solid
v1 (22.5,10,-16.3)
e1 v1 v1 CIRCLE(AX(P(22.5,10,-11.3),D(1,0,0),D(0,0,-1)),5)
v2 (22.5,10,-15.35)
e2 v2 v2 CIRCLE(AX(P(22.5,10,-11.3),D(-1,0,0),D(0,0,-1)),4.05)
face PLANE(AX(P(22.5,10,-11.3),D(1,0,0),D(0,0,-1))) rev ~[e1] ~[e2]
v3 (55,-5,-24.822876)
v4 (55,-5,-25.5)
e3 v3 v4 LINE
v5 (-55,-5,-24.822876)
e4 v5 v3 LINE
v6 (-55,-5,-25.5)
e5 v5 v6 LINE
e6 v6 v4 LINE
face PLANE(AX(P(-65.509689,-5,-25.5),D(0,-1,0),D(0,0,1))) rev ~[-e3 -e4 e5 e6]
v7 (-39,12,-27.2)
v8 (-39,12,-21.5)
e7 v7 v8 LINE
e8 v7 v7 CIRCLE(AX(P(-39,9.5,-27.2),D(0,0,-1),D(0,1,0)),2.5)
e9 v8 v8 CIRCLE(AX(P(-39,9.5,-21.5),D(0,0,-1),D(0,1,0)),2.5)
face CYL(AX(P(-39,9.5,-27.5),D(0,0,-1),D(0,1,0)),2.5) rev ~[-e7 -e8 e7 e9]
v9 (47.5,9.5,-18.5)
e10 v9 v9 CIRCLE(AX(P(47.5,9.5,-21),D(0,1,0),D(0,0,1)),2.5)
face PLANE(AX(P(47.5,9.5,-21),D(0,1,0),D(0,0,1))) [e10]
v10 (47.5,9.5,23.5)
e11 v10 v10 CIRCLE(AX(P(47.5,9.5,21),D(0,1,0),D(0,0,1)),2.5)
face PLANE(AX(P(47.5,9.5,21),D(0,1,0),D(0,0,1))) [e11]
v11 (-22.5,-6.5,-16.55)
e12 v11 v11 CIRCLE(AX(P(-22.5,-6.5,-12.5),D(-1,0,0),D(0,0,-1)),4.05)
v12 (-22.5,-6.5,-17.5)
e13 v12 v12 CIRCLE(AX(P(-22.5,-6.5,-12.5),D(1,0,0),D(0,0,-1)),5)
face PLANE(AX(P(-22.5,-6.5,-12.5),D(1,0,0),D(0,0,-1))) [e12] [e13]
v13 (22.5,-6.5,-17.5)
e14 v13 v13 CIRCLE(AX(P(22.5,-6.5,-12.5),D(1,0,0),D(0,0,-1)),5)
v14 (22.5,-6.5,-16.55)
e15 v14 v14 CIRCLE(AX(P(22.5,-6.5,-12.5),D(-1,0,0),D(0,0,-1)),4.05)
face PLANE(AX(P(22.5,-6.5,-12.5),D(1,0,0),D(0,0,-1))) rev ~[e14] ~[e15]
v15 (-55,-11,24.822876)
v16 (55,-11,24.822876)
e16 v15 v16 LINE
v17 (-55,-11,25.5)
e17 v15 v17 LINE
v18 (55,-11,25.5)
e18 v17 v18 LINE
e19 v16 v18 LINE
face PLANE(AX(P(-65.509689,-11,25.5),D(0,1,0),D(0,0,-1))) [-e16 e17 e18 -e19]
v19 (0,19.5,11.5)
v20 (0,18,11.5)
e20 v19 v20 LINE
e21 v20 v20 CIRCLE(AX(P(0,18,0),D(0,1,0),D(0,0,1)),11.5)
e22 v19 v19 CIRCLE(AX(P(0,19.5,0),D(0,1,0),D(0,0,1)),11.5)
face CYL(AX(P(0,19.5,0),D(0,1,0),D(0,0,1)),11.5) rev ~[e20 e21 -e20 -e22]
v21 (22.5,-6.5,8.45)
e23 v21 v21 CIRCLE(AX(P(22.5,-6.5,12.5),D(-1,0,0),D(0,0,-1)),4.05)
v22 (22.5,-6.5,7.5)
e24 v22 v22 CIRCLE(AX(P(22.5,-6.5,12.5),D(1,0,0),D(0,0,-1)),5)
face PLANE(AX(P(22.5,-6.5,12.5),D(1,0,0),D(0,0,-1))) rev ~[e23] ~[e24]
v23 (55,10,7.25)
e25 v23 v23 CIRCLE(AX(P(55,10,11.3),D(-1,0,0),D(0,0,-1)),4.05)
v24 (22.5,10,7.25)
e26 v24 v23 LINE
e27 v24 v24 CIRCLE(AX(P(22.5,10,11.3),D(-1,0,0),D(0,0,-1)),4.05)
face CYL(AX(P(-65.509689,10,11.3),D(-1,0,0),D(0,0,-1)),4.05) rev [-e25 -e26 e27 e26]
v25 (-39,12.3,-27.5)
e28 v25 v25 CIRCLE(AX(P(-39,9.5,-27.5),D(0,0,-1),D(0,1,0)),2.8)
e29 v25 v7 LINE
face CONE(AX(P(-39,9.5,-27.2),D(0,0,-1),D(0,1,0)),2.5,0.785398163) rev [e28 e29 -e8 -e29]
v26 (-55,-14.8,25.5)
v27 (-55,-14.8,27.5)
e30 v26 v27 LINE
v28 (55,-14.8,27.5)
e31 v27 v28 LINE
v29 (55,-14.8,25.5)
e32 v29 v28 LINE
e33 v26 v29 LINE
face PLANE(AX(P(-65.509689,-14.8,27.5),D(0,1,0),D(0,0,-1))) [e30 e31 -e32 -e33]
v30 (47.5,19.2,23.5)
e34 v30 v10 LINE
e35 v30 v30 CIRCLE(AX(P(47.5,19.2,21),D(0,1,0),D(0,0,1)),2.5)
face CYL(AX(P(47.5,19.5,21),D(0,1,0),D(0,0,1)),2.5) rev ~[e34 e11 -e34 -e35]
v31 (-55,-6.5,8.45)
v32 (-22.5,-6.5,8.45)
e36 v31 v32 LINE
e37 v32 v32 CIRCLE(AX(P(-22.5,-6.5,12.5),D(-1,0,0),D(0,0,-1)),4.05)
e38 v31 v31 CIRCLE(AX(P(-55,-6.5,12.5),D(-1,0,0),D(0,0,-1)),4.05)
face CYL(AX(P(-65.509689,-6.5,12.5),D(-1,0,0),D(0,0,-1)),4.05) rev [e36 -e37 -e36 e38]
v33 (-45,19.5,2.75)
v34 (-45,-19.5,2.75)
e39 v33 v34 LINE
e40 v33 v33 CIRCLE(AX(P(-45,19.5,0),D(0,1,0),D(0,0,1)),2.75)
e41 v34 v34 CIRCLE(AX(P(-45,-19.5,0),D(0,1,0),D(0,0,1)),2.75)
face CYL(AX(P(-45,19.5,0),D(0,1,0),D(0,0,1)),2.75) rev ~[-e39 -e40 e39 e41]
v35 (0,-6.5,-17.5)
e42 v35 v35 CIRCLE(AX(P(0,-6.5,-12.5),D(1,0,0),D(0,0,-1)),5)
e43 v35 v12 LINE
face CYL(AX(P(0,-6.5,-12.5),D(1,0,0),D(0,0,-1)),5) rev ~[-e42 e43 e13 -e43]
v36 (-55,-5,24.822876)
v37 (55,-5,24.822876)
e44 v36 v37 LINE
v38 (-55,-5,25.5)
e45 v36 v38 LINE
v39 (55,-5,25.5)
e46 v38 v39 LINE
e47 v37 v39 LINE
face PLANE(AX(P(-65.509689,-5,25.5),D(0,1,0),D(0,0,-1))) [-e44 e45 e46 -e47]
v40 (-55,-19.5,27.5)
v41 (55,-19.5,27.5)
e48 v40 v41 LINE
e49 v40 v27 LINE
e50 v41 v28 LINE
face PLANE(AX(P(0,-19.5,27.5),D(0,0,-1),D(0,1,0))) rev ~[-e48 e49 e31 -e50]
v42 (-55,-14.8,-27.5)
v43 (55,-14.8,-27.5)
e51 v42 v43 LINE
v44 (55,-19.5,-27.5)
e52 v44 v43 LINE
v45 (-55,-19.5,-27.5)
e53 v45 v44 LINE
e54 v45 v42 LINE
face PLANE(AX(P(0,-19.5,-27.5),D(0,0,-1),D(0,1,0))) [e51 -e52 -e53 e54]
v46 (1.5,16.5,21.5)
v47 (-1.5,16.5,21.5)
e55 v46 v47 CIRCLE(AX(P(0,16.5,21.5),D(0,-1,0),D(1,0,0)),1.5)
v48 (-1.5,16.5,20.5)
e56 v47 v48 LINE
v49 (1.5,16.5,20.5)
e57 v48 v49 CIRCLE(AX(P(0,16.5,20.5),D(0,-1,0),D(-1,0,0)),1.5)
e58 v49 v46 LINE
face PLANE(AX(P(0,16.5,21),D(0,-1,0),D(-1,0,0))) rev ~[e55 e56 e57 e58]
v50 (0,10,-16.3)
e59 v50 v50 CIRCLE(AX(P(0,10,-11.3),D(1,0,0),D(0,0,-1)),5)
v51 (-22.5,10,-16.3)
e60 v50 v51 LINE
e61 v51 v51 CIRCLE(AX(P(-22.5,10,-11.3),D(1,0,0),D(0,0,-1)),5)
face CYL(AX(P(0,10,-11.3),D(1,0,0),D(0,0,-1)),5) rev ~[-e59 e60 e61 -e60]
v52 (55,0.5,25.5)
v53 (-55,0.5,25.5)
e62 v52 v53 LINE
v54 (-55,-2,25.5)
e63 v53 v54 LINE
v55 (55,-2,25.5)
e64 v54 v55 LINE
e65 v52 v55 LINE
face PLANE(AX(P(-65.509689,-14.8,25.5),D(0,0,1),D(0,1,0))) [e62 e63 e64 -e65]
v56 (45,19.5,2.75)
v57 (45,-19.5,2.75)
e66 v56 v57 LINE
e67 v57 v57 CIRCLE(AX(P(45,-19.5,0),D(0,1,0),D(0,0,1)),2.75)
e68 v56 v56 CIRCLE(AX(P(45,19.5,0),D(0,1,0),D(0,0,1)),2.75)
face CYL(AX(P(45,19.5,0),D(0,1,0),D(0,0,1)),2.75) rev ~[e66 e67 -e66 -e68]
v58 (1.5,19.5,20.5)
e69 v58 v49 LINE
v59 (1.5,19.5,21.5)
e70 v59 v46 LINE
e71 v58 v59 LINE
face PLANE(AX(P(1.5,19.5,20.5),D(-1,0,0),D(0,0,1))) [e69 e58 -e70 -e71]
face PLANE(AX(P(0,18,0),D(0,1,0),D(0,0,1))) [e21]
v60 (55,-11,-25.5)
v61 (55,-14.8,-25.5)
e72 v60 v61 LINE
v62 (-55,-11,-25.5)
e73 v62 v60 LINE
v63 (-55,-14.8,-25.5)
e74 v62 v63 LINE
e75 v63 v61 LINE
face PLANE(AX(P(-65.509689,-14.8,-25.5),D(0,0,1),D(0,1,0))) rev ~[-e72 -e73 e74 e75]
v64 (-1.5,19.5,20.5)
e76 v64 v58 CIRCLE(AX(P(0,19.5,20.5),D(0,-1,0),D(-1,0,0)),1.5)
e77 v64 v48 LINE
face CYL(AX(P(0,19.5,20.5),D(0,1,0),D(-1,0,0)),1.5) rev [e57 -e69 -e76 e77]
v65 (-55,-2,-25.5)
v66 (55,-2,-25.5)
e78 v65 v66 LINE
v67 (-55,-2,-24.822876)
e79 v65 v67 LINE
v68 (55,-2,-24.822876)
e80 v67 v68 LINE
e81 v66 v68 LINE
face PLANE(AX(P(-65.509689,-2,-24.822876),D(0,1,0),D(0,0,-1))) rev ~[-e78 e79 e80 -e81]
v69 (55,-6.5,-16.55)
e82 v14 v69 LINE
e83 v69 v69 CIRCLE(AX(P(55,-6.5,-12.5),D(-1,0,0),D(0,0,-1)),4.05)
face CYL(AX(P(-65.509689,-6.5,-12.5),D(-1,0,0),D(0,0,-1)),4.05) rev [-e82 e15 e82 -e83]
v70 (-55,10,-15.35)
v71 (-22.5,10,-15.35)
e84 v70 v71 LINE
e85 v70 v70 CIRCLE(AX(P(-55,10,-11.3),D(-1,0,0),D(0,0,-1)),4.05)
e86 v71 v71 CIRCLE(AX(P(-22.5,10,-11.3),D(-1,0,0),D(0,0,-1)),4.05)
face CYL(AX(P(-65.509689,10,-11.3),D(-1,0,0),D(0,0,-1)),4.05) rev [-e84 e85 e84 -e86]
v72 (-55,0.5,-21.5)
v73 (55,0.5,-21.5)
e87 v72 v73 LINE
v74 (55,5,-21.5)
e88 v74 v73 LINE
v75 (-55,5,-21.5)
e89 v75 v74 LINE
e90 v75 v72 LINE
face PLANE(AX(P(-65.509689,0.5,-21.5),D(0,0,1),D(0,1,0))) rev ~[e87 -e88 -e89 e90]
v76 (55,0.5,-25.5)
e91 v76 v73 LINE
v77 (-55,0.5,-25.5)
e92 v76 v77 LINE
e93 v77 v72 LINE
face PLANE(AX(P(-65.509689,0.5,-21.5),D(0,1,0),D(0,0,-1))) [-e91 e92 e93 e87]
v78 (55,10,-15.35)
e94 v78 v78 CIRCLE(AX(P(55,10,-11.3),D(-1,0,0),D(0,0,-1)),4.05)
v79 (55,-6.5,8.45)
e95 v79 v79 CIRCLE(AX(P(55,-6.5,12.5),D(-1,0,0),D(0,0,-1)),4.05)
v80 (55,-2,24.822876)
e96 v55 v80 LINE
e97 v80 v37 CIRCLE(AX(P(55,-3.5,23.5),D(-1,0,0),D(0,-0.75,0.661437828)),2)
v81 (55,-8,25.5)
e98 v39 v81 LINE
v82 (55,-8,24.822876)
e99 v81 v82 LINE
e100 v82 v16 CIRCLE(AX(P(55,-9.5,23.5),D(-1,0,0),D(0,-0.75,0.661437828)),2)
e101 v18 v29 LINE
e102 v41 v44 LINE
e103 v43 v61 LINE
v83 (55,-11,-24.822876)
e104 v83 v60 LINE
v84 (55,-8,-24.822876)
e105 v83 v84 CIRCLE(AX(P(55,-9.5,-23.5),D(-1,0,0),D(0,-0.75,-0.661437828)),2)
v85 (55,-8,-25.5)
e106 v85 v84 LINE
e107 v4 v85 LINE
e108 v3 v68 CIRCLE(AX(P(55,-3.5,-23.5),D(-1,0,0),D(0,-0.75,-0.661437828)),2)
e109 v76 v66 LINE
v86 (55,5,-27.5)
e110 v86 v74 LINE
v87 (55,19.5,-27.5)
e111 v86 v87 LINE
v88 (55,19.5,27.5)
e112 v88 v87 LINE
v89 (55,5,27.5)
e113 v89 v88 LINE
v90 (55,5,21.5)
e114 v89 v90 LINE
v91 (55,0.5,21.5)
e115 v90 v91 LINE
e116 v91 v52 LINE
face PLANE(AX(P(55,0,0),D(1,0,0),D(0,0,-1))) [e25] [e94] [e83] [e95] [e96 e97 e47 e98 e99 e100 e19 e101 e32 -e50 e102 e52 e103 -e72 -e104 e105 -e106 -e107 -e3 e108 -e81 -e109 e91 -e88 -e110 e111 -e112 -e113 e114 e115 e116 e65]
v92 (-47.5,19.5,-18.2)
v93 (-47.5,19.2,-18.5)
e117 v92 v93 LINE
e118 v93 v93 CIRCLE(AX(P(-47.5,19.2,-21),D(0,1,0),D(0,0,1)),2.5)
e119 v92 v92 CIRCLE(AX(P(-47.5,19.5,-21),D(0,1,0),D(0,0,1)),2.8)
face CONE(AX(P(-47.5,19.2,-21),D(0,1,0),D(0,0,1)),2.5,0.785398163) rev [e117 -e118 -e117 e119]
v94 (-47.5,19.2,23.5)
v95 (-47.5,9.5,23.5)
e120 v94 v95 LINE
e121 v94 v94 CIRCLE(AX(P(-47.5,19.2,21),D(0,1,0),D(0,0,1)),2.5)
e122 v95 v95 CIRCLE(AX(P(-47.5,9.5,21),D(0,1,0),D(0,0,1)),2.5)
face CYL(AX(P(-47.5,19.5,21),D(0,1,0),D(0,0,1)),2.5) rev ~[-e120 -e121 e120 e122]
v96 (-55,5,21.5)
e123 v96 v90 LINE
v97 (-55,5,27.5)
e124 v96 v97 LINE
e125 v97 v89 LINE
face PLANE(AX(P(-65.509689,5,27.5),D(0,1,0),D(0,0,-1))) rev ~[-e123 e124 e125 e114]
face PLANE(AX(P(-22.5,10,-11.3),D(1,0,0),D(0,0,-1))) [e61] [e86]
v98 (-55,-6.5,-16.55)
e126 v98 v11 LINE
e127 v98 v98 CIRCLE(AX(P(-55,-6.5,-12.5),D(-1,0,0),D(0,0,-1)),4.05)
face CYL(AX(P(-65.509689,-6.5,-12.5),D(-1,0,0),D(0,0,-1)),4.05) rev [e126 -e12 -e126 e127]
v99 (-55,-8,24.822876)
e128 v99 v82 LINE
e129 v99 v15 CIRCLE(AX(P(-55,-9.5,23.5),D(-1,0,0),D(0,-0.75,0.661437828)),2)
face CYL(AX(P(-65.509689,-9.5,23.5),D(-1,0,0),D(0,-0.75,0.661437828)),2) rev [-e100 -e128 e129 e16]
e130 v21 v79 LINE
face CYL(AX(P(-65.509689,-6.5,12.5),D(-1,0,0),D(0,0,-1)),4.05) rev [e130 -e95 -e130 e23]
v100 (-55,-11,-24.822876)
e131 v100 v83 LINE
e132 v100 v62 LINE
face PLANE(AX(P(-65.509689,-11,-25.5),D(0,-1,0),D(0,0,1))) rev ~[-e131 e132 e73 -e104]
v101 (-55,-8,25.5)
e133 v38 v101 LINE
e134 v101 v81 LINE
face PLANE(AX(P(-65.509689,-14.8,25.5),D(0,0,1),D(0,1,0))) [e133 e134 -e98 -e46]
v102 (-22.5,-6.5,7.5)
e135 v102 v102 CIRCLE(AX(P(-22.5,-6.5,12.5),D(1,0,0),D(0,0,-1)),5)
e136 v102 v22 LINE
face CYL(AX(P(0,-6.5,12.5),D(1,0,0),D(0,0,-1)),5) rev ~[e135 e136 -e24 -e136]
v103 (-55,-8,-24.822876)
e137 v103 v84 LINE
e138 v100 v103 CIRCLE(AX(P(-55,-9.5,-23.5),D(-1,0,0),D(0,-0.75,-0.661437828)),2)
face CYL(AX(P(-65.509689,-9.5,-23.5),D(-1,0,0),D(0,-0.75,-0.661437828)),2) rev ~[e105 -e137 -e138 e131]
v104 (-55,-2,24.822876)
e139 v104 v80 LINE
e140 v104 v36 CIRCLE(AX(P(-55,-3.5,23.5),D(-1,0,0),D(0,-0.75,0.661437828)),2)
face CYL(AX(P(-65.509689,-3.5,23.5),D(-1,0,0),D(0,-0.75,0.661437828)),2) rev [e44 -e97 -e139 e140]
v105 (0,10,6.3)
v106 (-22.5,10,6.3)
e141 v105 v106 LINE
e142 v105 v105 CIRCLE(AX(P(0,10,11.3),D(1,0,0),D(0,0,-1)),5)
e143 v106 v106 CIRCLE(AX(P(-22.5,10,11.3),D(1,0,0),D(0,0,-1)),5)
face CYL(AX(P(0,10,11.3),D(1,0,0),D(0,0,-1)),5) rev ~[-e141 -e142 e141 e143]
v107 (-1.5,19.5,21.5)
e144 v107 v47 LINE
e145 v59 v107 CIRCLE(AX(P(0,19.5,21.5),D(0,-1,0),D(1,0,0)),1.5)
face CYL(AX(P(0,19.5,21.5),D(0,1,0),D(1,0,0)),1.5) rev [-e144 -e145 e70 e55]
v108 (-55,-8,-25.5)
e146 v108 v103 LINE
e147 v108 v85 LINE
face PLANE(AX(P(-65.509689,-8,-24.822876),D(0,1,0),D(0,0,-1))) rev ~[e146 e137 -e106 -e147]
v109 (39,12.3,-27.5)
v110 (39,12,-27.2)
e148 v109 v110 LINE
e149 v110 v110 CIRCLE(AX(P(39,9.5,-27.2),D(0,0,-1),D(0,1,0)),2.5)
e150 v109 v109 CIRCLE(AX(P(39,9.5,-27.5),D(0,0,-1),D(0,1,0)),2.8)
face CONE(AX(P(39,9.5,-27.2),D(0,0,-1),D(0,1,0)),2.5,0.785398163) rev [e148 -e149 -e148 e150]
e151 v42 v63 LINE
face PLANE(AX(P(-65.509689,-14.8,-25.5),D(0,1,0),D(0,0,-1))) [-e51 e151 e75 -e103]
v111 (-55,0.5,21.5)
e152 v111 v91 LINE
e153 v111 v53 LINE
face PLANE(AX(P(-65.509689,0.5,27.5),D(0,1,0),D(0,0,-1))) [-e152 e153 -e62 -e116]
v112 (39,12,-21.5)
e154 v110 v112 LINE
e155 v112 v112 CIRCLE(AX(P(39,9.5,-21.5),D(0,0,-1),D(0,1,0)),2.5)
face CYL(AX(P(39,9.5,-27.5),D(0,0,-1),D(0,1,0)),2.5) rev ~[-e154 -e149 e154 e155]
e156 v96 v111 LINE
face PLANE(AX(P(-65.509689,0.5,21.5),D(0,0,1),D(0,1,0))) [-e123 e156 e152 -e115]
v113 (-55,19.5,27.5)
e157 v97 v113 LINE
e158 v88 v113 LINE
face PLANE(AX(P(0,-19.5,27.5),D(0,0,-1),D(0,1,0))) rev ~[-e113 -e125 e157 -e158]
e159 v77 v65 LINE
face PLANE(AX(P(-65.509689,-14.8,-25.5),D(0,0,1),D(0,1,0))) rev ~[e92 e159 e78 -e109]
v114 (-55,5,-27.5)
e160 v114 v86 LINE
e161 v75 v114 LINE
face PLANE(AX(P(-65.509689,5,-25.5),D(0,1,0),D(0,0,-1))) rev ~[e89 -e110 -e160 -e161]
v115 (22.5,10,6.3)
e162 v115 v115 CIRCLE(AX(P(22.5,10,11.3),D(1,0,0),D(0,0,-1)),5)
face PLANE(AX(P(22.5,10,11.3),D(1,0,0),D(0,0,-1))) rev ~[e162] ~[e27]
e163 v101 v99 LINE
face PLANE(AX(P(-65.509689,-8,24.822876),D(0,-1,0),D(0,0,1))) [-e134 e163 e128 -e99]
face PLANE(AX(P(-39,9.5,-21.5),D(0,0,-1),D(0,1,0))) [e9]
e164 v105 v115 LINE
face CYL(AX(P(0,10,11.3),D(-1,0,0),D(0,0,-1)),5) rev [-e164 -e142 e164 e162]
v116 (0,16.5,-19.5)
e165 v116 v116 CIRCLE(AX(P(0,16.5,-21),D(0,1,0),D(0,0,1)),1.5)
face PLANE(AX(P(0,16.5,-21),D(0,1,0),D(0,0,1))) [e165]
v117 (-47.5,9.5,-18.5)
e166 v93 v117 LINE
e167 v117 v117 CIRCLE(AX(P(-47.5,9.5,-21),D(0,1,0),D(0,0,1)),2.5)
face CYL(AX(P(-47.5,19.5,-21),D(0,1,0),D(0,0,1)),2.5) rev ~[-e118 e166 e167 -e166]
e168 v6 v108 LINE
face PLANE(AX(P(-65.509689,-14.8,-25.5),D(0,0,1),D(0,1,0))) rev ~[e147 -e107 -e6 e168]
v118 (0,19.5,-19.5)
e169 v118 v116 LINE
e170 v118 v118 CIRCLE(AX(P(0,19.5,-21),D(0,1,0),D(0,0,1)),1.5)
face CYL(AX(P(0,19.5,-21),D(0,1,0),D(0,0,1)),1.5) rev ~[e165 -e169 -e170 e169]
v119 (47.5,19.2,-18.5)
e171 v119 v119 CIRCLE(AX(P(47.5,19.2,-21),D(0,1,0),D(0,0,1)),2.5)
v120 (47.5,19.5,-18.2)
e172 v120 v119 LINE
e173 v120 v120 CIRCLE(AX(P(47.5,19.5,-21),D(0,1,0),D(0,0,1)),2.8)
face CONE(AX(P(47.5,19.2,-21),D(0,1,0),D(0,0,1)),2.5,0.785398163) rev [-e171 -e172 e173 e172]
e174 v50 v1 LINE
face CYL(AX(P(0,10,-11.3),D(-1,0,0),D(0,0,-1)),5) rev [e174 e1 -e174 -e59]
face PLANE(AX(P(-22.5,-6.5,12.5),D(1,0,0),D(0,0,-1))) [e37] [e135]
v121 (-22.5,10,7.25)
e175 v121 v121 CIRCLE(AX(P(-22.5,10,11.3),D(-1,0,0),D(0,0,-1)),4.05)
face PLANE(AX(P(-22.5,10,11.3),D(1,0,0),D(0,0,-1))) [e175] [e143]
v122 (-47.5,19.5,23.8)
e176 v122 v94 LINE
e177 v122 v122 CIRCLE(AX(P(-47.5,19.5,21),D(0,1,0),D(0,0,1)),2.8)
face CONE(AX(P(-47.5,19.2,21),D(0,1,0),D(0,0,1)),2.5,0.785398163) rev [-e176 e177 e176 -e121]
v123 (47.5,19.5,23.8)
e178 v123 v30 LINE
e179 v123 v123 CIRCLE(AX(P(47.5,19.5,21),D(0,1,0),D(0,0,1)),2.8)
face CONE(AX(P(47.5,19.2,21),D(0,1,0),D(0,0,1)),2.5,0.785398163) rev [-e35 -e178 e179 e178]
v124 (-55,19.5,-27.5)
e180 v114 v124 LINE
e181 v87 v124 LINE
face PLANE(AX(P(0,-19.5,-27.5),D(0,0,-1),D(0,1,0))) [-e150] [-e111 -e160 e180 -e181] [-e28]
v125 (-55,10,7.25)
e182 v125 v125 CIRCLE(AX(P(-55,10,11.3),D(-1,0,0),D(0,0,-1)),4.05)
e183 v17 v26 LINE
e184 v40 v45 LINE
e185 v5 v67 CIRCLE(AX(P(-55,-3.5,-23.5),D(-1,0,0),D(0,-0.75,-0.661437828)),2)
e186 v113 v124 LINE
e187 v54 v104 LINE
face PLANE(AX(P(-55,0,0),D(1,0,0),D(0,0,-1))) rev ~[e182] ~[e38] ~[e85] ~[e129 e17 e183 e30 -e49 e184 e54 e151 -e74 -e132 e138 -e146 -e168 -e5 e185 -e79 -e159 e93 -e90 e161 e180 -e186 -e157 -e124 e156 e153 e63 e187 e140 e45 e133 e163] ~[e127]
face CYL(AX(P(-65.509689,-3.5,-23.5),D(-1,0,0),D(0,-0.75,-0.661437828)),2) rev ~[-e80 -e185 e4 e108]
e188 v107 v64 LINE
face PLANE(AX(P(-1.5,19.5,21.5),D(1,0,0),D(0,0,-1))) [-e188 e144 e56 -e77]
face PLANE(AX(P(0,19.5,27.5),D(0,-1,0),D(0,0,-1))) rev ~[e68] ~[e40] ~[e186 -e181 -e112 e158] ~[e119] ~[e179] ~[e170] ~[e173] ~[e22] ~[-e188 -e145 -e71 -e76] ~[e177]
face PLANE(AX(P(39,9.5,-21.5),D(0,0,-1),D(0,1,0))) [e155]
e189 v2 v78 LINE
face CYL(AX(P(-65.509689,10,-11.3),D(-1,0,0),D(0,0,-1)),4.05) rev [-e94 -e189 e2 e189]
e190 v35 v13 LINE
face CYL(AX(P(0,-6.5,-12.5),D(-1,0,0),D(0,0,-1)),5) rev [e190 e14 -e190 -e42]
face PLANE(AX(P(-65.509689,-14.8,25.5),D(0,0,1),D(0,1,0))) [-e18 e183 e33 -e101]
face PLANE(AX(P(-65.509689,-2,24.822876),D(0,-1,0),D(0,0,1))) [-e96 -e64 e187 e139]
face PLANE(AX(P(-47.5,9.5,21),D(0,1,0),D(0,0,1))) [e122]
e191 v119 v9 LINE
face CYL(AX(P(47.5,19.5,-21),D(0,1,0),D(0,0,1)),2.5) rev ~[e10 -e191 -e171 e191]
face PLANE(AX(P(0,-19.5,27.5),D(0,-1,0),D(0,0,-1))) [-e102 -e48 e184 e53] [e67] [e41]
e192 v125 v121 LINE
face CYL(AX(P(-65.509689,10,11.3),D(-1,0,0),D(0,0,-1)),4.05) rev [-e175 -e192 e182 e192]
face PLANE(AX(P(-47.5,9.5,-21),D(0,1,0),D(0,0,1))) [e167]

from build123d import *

# Parameters (mm, degrees)
SKETCH2_W                = 55
SKETCH2_H                = 39
BOSS_EXTRUDE1_DEPTH      = 55
CUT_EXTRUDE1_DEPTH       = 65.509689195
CUT_EXTRUDE1_DEPTH_BACK  = 65.509689195
SKETCH3_W                = 2
SKETCH3_H                = 19.8
CUT_EXTRUDE2_DEPTH       = 65.509689195
CUT_EXTRUDE2_DEPTH_BACK  = 65.509689195
SKETCH7_R                = 2.5
CUT_EXTRUDE4_DEPTH       = 10
CHAMFER2_SIZE            = 0.3
SKETCH8_R                = 1.5
CUT_EXTRUDE5_DEPTH       = 3
SKETCH9_R                = 2.75
CUT_EXTRUDE6_DEPTH       = 73.816550317
SKETCH10_R               = 2.5
CUT_EXTRUDE7_DEPTH       = 6
CHAMFER3_SIZE            = 0.3
CUT_EXTRUDE8_DEPTH       = 65.509689195
CUT_EXTRUDE8_DEPTH_BACK  = 65.509689195
SKETCH11_R               = 4.05
SKETCH12_R               = 11.5
CUT_EXTRUDE9_DEPTH       = 1.5
SKETCH13_R               = 5
CUT_EXTRUDE10_DEPTH      = 22.5
CUT_EXTRUDE11_DEPTH      = 65.509689195
CUT_EXTRUDE11_DEPTH_BACK = 65.509689195
SKETCH14_W               = 6
SKETCH14_H               = 4.5


with BuildPart() as part:
    # Sketch2 → Boss-Extrude1 (new, symmetric)
    with BuildSketch(Plane(origin=(0, 0, 0), x_dir=(0, 0, -1), z_dir=(1, 0, 0))):
        Rectangle(SKETCH2_W, SKETCH2_H)
    extrude(amount=BOSS_EXTRUDE1_DEPTH, both=True)

    # Sketch3 → Cut-Extrude1 (cut, two sides: drawn at the far end of the back side and taken through both)
    with BuildSketch(Plane(origin=(0, 0, 0), x_dir=(0, 0, -1), z_dir=(1, 0, 0)).offset(-CUT_EXTRUDE1_DEPTH_BACK)):
        with Locations((-26.5, -4.9)):
            Rectangle(SKETCH3_W, SKETCH3_H)
        with Locations((26.5, -4.9)):
            Rectangle(SKETCH3_W, SKETCH3_H)
    extrude(amount=CUT_EXTRUDE1_DEPTH + CUT_EXTRUDE1_DEPTH_BACK, mode=Mode.SUBTRACT)

    # Sketch5 → Cut-Extrude2 (cut, two sides: drawn at the far end of the back side and taken through both)
    with BuildSketch(Plane(origin=(0, 0, 0), x_dir=(0, 0, -1), z_dir=(1, 0, 0)).offset(-CUT_EXTRUDE2_DEPTH_BACK)):
        with BuildLine():
            Line((-24.822875656, -2), (-25.5, -2))
            Line((-25.5, -2), (-25.5, -5))
            Line((-25.5, -5), (-24.822875656, -5))
            ThreePointArc((-24.822875656, -5), (-21.5, -3.5), (-24.822875656, -2))
        make_face()
        with BuildLine():
            Line((-24.822875656, -8), (-25.5, -8))
            Line((-25.5, -8), (-25.5, -11))
            Line((-25.5, -11), (-24.822875656, -11))
            ThreePointArc((-24.822875656, -11), (-21.5, -9.5), (-24.822875656, -8))
        make_face()
        with BuildLine():
            Line((25.5, -8), (25.5, -11))
            Line((25.5, -11), (24.822875656, -11))
            ThreePointArc((24.822875656, -11), (21.5, -9.5), (24.822875656, -8))
            Line((24.822875656, -8), (25.5, -8))
        make_face()
        with BuildLine():
            Line((25.5, -2), (25.5, -5))
            Line((25.5, -5), (24.822875656, -5))
            ThreePointArc((24.822875656, -5), (21.5, -3.5), (24.822875656, -2))
            Line((24.822875656, -2), (25.5, -2))
        make_face()
    extrude(amount=CUT_EXTRUDE2_DEPTH + CUT_EXTRUDE2_DEPTH_BACK, mode=Mode.SUBTRACT)

    # Sketch7 → Cut-Extrude4 (cut)
    with BuildSketch(Plane(origin=(0, 19.5, 0), x_dir=(1, 0, 0), z_dir=(0, 1, 0))):
        with Locations((-47.5, 21)):
            Circle(SKETCH7_R)
        with Locations((47.5, 21)):
            Circle(SKETCH7_R)
        with Locations((47.5, -21)):
            Circle(SKETCH7_R)
        with Locations((-47.5, -21)):
            Circle(SKETCH7_R)
    extrude(amount=-CUT_EXTRUDE4_DEPTH, mode=Mode.SUBTRACT)

    # Chamfer2
    chamfer2_edges = [part.edges().sort_by_distance(p)[0] for p in [
        (-50, 19.5, 21),
        (45, 19.5, 21),
        (45, 19.5, -21),
        (-50, 19.5, -21),
    ]]
    chamfer(chamfer2_edges, length=CHAMFER2_SIZE)

    # Sketch8 → Cut-Extrude5 (cut)
    with BuildSketch(Plane(origin=(0, 19.5, 0), x_dir=(1, 0, 0), z_dir=(0, 1, 0))):
        with Locations((0, 21)):
            Circle(SKETCH8_R)
        with BuildLine():
            Line((-1.5, -21.5), (-1.5, -20.5))
            ThreePointArc((-1.5, -20.5), (0, -19), (1.5, -20.5))
            Line((1.5, -20.5), (1.5, -21.5))
            ThreePointArc((1.5, -21.5), (0, -23), (-1.5, -21.5))
        make_face()
    extrude(amount=-CUT_EXTRUDE5_DEPTH, mode=Mode.SUBTRACT)

    # Sketch9 → Cut-Extrude6 (cut, through all)
    with BuildSketch(Plane(origin=(0, 19.5, 0), x_dir=(1, 0, 0), z_dir=(0, 1, 0))):
        with Locations((-45, 0)):
            Circle(SKETCH9_R)
        with Locations((45, 0)):
            Circle(SKETCH9_R)
    extrude(amount=-CUT_EXTRUDE6_DEPTH, mode=Mode.SUBTRACT)

    # Sketch10 → Cut-Extrude7 (cut)
    with BuildSketch(Plane(origin=(0, 0, -27.5), x_dir=(-1, 0, 0), z_dir=(0, 0, -1))):
        with Locations((-39, 9.5)):
            Circle(SKETCH10_R)
        with Locations((39, 9.5)):
            Circle(SKETCH10_R)
    extrude(amount=-CUT_EXTRUDE7_DEPTH, mode=Mode.SUBTRACT)

    # Chamfer3
    chamfer3_edges = [part.edges().sort_by_distance(p)[0] for p in [
        (-36.5, 9.5, -27.5),
        (41.5, 9.5, -27.5),
    ]]
    chamfer(chamfer3_edges, length=CHAMFER3_SIZE)

    # Sketch11 → Cut-Extrude8 (cut, two sides: drawn at the far end of the back side and taken through both)
    with BuildSketch(Plane(origin=(0, 0, 0), x_dir=(0, 0, -1), z_dir=(1, 0, 0)).offset(-CUT_EXTRUDE8_DEPTH_BACK)):
        with Locations((-11.3, 10)):
            Circle(SKETCH11_R)
        with Locations((11.3, 10)):
            Circle(SKETCH11_R)
        with Locations((-12.5, -6.5)):
            Circle(SKETCH11_R)
        with Locations((12.5, -6.5)):
            Circle(SKETCH11_R)
    extrude(amount=CUT_EXTRUDE8_DEPTH + CUT_EXTRUDE8_DEPTH_BACK, mode=Mode.SUBTRACT)

    # Sketch12 → Cut-Extrude9 (cut)
    with BuildSketch(Plane(origin=(0, 19.5, 0), x_dir=(1, 0, 0), z_dir=(0, 1, 0))):
        Circle(SKETCH12_R)
    extrude(amount=-CUT_EXTRUDE9_DEPTH, mode=Mode.SUBTRACT)

    # Sketch13 → Cut-Extrude10 (cut, symmetric)
    with BuildSketch(Plane(origin=(0, 0, 0), x_dir=(0, 0, -1), z_dir=(1, 0, 0))):
        with Locations((-11.3, 10)):
            Circle(SKETCH13_R)
        with Locations((11.3, 10)):
            Circle(SKETCH13_R)
        with Locations((12.5, -6.5)):
            Circle(SKETCH13_R)
        with Locations((-12.5, -6.5)):
            Circle(SKETCH13_R)
    extrude(amount=CUT_EXTRUDE10_DEPTH, both=True, mode=Mode.SUBTRACT)

    # Sketch14 → Cut-Extrude11 (cut, two sides: drawn at the far end of the back side and taken through both)
    with BuildSketch(Plane(origin=(0, 0, 0), x_dir=(0, 0, -1), z_dir=(1, 0, 0)).offset(-CUT_EXTRUDE11_DEPTH_BACK)):
        with Locations((-24.5, 2.75)):
            Rectangle(SKETCH14_W, SKETCH14_H)
        with Locations((24.5, 2.75)):
            Rectangle(SKETCH14_W, SKETCH14_H)
    extrude(amount=CUT_EXTRUDE11_DEPTH + CUT_EXTRUDE11_DEPTH_BACK, mode=Mode.SUBTRACT)


solid = part.part
